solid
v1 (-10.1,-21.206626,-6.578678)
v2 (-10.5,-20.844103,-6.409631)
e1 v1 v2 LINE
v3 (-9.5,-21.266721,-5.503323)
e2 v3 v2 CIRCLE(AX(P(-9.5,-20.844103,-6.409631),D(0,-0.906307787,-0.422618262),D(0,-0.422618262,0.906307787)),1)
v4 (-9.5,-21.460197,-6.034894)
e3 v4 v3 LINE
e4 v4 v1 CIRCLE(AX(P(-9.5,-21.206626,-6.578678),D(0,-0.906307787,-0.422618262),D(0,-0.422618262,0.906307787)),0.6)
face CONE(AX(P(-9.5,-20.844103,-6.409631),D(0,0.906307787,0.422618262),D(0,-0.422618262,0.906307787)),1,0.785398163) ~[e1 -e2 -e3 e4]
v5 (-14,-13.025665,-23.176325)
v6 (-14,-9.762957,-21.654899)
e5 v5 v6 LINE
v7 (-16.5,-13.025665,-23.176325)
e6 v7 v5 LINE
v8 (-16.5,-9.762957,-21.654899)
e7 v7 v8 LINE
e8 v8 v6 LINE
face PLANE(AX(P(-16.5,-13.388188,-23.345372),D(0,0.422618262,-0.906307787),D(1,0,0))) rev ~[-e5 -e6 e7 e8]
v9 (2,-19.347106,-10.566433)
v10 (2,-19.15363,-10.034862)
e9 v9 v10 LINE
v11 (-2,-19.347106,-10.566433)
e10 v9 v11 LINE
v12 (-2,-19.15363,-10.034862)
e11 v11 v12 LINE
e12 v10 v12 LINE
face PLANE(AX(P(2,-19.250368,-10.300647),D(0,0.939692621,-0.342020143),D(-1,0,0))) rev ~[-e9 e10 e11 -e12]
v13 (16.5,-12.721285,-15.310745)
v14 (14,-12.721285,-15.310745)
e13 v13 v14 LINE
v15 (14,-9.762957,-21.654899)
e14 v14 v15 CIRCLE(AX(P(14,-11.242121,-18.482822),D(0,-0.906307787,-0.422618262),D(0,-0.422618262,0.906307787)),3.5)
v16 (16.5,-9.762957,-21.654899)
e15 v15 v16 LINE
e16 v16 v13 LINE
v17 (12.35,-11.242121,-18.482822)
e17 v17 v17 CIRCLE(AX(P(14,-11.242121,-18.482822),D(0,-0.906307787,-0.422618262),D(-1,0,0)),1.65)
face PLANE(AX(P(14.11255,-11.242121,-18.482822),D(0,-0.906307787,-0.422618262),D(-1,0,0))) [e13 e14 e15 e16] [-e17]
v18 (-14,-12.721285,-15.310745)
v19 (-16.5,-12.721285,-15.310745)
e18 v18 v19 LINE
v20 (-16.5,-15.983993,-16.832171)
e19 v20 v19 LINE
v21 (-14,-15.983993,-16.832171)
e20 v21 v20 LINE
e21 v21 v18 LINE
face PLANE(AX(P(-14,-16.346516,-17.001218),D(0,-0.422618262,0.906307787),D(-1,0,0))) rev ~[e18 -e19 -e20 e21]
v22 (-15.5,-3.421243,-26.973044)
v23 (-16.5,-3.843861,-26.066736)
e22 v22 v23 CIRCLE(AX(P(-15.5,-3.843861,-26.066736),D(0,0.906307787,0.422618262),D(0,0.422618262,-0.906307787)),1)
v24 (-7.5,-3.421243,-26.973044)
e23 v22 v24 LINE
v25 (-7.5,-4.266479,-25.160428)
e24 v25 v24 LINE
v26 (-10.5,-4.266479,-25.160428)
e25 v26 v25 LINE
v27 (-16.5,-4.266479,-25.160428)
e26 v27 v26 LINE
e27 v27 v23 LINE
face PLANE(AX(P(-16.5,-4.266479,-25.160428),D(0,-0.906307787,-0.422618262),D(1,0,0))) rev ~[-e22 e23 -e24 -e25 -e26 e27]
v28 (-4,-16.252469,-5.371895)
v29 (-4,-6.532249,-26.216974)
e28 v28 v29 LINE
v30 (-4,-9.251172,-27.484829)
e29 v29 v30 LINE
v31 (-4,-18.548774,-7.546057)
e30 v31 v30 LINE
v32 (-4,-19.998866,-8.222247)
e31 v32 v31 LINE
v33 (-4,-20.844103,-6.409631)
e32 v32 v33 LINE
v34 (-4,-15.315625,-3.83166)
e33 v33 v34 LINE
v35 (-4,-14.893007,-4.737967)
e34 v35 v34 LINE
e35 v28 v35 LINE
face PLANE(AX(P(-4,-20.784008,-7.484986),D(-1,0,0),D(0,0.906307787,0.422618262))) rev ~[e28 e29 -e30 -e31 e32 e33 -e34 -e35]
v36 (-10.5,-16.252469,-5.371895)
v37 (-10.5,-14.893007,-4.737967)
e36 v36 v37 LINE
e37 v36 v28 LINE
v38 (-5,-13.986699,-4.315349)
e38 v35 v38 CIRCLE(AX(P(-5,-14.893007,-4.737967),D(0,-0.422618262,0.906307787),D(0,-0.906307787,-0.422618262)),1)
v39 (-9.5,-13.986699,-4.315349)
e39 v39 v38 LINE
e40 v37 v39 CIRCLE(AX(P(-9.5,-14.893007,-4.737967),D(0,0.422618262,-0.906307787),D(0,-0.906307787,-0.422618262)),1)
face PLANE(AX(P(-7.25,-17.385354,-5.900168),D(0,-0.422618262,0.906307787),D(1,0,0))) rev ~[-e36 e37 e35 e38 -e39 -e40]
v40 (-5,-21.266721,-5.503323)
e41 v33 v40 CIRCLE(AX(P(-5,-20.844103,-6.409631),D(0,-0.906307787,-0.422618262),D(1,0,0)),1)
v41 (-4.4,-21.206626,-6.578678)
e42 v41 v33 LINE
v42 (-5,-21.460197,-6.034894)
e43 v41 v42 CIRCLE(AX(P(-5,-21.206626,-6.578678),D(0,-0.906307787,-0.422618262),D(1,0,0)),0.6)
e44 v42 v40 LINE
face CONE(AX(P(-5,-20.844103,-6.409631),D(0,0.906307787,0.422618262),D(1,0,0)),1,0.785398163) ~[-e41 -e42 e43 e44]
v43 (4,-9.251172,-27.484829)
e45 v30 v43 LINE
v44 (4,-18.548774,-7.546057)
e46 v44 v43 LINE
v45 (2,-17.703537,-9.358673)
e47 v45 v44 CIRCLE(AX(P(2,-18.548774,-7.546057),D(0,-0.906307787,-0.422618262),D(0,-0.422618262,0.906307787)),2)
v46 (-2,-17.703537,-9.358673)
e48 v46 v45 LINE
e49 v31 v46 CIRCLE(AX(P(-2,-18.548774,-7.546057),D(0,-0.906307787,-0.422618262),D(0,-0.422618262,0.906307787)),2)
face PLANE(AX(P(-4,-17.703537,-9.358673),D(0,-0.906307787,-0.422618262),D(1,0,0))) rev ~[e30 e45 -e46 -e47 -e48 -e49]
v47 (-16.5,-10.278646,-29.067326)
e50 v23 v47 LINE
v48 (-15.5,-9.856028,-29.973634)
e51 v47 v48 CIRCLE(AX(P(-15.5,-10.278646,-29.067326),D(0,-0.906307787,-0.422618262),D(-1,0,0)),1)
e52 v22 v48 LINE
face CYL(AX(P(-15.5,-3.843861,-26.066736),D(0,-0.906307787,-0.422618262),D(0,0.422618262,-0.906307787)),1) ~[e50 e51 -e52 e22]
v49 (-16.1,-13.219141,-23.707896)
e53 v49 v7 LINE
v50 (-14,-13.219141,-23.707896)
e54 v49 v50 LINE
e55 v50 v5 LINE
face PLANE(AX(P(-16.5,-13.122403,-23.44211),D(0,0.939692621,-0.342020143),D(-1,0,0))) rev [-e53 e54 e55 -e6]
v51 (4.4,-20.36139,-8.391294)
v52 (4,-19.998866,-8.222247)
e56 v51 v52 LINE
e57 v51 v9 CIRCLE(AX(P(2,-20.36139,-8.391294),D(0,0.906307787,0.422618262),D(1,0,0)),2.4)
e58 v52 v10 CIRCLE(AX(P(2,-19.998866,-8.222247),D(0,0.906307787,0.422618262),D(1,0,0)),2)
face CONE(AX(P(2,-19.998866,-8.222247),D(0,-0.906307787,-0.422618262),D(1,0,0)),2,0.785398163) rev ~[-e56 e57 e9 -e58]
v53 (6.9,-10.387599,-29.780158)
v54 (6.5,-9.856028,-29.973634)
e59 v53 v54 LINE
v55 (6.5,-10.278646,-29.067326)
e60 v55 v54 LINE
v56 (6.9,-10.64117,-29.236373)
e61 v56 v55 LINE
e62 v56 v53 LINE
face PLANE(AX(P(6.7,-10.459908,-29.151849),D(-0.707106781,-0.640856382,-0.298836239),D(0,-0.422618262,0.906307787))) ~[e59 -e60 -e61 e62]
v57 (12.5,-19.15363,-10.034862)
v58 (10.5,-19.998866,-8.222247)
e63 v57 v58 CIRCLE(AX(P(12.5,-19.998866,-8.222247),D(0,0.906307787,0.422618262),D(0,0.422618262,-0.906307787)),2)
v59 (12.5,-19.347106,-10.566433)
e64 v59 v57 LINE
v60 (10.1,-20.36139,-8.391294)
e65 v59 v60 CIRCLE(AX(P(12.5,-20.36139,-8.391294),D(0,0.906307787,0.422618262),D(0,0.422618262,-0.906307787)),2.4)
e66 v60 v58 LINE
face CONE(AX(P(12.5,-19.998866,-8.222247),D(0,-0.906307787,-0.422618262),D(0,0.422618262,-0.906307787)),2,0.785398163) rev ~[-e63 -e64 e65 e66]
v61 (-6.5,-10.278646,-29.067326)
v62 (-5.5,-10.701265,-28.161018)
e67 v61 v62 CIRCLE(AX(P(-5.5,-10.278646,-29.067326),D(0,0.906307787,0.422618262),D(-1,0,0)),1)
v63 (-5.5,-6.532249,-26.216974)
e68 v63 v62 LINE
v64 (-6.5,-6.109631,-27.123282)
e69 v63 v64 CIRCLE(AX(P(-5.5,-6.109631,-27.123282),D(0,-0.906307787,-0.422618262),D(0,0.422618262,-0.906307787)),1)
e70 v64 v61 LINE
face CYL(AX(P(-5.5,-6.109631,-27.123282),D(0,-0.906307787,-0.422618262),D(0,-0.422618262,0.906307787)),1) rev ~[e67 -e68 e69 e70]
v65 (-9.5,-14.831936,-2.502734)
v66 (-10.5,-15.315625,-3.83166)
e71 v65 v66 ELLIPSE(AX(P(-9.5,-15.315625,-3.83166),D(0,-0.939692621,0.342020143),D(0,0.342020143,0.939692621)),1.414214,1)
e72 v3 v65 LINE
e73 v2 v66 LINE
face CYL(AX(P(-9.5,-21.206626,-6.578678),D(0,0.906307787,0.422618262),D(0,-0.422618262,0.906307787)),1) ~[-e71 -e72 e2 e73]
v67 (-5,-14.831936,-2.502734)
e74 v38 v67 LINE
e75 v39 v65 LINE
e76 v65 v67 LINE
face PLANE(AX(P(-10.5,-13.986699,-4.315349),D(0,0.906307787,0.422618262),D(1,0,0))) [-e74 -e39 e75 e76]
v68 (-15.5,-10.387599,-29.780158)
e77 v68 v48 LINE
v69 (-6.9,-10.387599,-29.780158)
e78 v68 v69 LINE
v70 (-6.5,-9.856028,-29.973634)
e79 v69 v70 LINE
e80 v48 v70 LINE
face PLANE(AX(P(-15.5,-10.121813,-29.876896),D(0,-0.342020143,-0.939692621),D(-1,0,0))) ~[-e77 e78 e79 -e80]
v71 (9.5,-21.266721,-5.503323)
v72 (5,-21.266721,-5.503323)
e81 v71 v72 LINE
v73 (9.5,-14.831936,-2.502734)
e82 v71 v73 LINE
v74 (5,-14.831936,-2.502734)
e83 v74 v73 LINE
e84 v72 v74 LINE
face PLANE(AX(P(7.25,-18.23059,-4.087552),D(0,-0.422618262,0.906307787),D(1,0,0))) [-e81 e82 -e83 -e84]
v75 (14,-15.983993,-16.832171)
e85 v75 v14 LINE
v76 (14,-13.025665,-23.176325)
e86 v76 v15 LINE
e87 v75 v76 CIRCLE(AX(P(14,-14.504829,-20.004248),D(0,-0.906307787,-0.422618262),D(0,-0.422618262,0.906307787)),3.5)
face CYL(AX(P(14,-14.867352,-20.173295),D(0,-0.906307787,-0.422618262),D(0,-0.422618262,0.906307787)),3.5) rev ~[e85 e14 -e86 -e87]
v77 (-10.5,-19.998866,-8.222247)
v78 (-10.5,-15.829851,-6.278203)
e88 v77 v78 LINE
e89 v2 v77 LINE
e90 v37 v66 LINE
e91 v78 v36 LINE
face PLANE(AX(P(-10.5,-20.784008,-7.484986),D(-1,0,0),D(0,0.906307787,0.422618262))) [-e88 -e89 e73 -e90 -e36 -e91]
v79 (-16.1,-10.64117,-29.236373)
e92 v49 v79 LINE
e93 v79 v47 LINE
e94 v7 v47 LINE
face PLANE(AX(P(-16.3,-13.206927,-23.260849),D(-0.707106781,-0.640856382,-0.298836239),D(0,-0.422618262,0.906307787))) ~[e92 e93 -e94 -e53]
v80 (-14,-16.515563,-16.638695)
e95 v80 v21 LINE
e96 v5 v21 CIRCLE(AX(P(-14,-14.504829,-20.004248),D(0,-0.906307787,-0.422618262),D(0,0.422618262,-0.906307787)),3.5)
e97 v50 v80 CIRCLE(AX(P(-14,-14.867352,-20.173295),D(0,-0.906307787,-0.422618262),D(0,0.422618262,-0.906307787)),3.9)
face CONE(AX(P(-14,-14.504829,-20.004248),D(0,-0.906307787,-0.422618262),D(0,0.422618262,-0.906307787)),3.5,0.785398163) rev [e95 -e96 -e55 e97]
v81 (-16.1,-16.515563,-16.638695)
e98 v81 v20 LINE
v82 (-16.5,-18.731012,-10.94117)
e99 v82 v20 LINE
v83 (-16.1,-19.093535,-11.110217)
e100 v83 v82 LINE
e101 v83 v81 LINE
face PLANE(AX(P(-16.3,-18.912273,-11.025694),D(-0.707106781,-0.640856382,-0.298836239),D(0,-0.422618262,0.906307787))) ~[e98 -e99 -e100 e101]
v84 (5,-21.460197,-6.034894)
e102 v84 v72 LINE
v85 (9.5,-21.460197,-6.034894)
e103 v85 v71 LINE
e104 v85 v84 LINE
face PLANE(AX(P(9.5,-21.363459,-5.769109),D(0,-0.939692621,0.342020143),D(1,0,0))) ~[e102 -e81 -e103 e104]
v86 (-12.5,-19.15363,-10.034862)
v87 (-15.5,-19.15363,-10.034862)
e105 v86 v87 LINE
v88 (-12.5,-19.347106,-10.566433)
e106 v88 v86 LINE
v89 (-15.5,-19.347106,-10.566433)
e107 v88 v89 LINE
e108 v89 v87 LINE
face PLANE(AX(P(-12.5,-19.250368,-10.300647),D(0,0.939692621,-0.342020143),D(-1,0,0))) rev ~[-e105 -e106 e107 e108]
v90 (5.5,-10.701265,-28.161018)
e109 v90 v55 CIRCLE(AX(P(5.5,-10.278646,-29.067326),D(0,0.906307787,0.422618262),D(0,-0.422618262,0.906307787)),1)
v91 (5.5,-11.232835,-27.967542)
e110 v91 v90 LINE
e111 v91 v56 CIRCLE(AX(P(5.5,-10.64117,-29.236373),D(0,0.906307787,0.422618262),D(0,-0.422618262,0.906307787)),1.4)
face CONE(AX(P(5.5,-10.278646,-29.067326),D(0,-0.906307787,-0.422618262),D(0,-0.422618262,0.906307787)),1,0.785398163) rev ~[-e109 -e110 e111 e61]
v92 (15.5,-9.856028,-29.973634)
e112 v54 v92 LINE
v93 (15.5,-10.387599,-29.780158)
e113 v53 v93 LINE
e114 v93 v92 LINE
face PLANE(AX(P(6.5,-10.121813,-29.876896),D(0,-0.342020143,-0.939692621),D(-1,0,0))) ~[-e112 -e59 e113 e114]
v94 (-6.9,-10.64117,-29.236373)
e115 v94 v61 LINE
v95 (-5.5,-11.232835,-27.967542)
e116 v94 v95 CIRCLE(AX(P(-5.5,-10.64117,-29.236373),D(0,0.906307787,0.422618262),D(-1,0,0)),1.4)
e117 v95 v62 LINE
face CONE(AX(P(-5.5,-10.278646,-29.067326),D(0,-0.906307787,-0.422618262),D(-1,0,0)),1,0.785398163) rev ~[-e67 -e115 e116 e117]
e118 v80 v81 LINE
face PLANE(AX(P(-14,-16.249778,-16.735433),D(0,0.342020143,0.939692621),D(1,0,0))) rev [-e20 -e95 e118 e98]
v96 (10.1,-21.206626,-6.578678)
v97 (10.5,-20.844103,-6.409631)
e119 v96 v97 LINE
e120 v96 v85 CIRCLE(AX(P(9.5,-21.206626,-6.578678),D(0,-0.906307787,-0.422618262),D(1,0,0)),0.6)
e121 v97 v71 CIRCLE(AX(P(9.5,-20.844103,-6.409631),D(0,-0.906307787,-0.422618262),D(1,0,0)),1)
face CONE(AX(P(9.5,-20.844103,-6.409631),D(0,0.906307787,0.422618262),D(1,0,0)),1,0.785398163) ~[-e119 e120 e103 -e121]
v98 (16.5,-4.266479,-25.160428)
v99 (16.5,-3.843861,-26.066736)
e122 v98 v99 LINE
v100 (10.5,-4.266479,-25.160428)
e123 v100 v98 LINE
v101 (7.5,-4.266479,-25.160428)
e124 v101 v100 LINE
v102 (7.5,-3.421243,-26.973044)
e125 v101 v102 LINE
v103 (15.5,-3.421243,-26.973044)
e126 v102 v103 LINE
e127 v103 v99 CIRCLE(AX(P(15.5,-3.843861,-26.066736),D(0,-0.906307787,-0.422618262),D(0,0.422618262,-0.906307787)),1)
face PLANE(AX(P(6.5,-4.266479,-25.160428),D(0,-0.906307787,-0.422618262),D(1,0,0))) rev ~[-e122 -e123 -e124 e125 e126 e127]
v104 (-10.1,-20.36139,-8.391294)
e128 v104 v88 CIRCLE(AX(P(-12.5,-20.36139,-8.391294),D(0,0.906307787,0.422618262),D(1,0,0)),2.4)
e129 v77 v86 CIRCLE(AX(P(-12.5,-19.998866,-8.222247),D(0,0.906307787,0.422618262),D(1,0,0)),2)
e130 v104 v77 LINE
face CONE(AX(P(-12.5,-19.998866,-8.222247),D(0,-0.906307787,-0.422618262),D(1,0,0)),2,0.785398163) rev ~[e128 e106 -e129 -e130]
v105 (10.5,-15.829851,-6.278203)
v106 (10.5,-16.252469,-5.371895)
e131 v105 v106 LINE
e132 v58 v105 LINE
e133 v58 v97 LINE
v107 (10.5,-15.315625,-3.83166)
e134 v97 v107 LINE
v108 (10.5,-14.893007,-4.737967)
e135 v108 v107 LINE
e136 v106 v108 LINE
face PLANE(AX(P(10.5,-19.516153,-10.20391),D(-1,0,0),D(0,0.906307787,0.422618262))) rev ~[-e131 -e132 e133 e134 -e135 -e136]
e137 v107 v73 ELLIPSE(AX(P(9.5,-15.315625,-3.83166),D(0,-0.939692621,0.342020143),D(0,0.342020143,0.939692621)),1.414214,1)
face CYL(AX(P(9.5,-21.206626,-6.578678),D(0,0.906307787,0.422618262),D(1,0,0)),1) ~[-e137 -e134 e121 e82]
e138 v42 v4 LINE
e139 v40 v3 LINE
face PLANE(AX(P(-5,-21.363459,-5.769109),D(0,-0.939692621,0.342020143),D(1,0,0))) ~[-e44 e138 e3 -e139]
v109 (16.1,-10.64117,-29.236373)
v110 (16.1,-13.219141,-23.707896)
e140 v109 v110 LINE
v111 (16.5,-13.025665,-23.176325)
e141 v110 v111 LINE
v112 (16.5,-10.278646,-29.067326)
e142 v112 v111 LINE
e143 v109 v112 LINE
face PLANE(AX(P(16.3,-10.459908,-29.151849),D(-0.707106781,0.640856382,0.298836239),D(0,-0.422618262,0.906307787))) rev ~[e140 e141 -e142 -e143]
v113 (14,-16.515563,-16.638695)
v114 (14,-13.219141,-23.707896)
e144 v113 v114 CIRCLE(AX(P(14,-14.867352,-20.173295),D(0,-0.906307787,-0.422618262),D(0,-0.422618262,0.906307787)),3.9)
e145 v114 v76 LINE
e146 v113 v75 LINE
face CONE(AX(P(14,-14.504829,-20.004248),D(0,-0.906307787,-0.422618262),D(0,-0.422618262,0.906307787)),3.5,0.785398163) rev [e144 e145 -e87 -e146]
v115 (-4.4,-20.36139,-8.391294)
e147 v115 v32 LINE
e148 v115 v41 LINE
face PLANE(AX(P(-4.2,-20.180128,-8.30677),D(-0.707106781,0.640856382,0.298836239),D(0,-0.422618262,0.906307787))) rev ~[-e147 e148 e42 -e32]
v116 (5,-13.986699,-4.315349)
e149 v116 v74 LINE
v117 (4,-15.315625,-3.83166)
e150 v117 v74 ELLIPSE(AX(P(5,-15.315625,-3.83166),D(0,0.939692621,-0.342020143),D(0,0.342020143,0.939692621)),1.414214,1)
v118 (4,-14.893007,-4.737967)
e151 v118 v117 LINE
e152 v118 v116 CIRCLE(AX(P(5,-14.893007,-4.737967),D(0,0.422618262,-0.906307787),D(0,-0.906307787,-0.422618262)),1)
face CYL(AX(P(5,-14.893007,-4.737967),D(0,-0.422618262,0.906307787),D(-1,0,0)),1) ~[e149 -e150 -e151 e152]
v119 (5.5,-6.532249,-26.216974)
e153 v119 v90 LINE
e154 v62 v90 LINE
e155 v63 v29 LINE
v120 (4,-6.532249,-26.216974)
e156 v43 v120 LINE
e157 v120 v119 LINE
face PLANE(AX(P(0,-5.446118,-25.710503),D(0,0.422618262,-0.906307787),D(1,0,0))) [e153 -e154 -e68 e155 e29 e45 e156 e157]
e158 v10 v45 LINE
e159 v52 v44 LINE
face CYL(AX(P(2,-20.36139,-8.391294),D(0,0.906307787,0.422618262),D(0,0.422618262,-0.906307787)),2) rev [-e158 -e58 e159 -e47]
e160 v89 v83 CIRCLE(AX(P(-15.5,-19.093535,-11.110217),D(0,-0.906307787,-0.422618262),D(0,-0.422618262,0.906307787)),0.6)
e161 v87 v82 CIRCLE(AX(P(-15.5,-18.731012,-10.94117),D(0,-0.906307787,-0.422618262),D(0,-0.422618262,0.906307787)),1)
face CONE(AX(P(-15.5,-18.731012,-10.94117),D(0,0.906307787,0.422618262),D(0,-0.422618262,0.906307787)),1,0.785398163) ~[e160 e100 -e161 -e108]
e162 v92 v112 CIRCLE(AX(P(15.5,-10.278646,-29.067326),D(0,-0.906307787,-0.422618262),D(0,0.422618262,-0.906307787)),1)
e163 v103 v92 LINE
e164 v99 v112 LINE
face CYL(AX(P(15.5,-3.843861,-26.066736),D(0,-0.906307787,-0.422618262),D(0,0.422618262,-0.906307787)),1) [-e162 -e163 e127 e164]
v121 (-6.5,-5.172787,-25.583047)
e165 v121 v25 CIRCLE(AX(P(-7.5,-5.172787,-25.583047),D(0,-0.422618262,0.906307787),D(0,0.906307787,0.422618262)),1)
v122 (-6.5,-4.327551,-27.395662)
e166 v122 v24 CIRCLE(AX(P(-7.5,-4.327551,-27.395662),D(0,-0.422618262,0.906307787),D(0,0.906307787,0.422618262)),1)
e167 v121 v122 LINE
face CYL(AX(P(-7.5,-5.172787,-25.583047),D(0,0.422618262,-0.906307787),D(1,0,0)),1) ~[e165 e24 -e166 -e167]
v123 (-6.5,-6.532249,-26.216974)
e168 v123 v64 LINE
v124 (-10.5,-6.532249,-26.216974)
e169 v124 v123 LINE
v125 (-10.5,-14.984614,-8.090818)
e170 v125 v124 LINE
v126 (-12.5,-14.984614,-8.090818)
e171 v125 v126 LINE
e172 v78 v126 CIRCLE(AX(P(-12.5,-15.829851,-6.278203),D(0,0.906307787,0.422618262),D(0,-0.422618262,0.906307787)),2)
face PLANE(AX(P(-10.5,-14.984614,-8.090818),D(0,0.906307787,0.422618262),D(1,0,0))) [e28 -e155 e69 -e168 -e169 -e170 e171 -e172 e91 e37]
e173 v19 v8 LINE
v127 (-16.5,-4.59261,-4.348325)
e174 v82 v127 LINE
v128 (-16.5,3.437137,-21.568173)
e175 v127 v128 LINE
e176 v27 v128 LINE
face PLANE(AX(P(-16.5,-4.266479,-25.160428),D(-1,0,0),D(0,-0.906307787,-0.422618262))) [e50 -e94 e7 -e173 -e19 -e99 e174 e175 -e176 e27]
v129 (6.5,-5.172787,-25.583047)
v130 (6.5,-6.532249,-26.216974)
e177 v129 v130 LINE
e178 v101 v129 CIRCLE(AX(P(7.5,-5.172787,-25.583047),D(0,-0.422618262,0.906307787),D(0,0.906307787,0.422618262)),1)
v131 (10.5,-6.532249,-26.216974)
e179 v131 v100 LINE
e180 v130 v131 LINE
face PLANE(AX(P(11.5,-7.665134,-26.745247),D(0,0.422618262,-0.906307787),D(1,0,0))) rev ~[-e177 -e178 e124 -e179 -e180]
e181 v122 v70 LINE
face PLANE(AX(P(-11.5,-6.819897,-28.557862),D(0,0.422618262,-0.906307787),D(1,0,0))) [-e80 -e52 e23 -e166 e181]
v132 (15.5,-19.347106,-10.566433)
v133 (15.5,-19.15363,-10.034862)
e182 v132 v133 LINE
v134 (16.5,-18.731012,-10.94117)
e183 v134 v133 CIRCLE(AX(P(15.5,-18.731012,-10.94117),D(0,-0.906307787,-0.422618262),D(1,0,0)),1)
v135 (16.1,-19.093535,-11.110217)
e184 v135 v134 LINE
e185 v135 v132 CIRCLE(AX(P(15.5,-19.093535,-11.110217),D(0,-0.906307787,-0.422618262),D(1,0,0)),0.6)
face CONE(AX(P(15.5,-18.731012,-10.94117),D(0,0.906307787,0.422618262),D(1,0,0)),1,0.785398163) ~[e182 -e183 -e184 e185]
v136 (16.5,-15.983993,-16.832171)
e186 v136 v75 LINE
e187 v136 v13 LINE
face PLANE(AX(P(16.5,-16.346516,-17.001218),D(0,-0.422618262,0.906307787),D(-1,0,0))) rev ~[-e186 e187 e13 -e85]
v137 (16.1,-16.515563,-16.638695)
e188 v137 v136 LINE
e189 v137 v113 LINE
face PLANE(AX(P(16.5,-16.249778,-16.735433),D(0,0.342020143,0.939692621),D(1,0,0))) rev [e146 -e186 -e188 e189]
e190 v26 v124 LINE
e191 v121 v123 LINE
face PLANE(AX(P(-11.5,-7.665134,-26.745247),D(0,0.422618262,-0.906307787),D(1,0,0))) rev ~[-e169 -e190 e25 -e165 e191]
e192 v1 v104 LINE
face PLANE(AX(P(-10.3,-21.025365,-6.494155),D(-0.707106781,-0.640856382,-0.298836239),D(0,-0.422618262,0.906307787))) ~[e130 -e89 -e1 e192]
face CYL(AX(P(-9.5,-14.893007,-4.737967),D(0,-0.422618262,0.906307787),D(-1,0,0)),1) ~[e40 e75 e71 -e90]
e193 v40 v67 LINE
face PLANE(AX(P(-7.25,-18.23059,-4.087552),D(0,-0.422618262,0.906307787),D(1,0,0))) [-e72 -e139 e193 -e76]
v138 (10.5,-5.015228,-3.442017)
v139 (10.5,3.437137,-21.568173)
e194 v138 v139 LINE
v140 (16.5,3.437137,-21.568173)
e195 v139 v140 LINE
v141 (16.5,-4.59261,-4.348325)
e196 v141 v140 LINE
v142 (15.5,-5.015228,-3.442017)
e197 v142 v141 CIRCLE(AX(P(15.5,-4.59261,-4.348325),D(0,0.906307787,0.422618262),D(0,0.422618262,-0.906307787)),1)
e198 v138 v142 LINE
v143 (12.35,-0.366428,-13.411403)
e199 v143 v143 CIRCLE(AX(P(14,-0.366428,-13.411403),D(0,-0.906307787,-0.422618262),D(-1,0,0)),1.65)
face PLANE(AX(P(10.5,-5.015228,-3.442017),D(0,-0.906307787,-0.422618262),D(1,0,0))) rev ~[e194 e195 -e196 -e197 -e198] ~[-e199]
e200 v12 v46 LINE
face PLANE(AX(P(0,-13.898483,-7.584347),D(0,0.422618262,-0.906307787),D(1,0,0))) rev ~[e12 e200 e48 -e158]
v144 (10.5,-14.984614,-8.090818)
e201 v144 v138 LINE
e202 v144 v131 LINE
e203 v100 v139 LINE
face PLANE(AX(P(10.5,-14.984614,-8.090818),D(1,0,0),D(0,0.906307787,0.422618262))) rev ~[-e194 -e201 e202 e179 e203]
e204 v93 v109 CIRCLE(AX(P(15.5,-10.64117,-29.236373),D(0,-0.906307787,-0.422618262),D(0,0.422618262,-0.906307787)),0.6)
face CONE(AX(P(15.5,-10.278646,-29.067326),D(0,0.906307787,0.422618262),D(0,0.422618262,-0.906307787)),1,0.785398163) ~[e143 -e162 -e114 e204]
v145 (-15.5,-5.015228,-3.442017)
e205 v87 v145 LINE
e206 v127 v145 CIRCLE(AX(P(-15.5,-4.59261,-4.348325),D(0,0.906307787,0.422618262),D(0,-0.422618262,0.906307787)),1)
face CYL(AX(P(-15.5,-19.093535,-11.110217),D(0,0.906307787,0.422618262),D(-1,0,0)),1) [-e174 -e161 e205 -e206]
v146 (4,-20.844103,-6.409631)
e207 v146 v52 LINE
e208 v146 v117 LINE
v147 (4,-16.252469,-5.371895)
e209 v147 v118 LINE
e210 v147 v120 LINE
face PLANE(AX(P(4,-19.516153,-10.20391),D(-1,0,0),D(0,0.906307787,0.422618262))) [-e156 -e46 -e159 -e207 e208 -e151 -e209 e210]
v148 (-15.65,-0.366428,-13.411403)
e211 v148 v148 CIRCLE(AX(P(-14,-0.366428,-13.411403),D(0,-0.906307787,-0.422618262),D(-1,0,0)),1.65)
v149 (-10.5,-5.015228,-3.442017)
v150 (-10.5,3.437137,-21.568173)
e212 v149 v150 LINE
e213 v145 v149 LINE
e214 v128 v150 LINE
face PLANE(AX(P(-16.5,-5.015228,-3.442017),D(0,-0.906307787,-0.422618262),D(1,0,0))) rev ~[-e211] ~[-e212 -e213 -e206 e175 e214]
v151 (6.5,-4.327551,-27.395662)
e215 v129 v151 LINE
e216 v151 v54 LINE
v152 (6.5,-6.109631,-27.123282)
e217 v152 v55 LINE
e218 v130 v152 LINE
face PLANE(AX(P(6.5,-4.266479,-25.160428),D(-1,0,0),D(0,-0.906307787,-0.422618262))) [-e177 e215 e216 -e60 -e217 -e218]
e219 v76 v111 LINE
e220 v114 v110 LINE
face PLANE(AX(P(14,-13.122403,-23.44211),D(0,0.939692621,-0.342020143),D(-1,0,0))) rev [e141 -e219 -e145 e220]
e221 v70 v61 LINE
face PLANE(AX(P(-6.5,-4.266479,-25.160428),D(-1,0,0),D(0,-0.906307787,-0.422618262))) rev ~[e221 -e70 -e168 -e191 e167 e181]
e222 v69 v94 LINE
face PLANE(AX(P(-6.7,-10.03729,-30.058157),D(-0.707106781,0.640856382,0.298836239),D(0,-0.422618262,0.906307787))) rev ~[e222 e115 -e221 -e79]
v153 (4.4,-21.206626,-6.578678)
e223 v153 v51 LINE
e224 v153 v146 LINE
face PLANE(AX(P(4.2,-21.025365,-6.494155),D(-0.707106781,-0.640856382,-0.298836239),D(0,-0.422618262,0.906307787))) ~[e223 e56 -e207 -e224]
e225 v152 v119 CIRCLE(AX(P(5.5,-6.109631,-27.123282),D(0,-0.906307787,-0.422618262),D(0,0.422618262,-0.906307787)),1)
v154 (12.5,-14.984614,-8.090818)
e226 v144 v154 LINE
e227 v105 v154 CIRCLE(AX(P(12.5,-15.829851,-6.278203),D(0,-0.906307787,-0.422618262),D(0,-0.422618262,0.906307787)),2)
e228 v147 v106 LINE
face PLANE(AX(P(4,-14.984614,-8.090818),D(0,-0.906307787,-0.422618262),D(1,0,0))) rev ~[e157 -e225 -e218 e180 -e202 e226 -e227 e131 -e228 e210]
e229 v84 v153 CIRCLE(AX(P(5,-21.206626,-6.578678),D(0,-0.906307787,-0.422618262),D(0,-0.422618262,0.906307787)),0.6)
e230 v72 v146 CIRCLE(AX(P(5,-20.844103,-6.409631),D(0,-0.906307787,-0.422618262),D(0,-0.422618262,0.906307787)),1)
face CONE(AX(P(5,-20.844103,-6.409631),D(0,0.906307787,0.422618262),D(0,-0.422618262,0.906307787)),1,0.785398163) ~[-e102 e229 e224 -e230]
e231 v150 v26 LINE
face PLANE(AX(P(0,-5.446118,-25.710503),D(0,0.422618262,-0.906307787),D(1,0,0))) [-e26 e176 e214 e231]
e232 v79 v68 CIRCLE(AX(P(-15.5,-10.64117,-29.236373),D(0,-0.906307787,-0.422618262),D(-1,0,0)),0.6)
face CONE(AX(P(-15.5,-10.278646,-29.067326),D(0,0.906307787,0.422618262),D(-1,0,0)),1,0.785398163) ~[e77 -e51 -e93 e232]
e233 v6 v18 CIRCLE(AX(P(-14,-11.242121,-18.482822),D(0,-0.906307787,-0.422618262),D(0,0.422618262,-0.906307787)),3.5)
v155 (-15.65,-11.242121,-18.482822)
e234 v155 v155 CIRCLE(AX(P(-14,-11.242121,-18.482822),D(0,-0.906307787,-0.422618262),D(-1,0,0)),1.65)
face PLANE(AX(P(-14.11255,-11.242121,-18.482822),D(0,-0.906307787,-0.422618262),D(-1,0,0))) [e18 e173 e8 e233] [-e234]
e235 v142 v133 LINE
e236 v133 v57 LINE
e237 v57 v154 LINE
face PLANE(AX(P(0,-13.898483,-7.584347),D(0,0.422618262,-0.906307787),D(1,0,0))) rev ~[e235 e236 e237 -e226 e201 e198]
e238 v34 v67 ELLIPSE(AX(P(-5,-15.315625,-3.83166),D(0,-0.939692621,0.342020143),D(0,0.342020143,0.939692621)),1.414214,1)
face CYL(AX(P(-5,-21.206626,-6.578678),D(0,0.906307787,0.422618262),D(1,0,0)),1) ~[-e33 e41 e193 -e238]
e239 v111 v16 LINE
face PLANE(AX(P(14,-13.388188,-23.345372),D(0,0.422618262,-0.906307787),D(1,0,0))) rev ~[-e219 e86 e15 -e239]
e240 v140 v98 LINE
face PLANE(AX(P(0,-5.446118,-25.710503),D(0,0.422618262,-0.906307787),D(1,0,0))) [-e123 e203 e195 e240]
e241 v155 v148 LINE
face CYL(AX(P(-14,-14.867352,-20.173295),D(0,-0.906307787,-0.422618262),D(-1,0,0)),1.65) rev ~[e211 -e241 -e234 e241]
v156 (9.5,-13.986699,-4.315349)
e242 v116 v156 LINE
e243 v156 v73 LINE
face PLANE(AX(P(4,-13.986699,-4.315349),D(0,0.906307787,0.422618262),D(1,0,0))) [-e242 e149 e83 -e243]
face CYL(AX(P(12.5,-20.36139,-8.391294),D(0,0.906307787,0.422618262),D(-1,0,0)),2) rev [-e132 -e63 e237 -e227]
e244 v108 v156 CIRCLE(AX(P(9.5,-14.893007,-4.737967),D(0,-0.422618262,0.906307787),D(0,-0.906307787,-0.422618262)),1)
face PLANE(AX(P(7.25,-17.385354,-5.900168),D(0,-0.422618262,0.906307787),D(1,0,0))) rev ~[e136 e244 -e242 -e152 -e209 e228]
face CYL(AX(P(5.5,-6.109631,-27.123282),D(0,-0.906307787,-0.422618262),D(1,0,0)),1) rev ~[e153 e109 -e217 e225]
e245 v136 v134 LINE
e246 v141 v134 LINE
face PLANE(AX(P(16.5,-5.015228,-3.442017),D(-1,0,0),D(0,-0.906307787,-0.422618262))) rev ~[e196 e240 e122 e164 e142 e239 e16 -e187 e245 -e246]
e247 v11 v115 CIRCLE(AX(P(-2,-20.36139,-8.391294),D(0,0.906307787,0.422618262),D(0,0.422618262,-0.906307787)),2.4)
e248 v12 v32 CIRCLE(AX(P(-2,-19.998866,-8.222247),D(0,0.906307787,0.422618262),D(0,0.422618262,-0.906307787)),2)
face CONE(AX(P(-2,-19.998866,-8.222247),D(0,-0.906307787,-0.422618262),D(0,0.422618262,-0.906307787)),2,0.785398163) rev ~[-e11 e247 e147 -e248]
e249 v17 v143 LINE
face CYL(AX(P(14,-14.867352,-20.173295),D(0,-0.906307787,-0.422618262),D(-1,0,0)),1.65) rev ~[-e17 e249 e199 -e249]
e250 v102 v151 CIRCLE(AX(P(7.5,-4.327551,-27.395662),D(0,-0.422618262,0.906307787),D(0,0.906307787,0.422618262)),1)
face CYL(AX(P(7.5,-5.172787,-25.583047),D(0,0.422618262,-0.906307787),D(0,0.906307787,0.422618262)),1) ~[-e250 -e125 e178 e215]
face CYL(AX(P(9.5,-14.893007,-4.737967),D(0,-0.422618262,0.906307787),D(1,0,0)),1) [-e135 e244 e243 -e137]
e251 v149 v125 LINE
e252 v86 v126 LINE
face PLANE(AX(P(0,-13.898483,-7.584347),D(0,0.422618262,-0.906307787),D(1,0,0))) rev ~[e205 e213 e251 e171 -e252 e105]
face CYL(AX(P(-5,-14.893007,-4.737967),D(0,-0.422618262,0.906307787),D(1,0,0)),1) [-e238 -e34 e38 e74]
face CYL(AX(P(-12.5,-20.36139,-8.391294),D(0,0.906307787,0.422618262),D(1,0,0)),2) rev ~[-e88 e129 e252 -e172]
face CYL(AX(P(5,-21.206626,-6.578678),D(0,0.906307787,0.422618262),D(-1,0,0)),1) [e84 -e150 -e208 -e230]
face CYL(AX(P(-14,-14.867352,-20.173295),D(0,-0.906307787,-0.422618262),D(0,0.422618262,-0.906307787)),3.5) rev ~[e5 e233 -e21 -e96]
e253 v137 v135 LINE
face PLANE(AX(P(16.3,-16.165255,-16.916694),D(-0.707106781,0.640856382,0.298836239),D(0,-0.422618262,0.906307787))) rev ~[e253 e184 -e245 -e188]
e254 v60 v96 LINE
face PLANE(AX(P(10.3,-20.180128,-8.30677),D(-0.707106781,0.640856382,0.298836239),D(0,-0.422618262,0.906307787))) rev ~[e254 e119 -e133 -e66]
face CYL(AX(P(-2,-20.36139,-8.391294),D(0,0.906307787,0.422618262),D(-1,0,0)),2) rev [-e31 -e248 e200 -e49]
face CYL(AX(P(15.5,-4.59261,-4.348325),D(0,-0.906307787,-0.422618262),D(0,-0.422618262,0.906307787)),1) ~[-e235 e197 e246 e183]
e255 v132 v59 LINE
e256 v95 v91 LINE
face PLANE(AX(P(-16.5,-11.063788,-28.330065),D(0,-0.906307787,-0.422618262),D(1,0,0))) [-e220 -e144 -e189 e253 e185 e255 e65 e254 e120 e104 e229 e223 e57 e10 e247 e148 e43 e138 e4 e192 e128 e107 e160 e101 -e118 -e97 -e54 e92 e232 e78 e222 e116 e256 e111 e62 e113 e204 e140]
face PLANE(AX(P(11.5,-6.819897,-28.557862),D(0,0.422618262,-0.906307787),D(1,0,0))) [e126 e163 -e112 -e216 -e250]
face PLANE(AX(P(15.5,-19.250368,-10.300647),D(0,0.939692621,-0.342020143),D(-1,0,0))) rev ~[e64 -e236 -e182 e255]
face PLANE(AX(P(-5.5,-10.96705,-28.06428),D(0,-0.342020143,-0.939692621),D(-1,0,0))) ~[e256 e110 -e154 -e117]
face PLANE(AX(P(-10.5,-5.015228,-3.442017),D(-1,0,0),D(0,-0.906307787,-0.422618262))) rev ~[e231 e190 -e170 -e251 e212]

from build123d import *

# Parameters (mm, degrees)
PAD011_DEPTH                     = 20
SKETCH035_W                      = 6.5
SKETCH035_H                      = 5
PAD012_DEPTH                     = 3
SKETCH036_W                      = 6.5
SKETCH036_H                      = 7.5
PAD013_DEPTH                     = 2
SKETCH037_W                      = 10
SKETCH037_H                      = 7.5
PAD014_DEPTH                     = 2
FILLET005009_R                   = 2
FILLET005010_R                   = 1
FILLET005011_R                   = 1
SKETCH038_R                      = 1.65
POCKET018_DEPTH                  = 16.001
POCKET019_DEPTH                  = 4
CHAMFER007006_SIZE               = 0.4
BODY004004003003_PLACEMENT_ANGLE = 205


with BuildPart() as part:
    # Sketch034 → Pad011 (new body)
    with BuildSketch(Plane.XY):
        Polygon((-16.5, 0), (-10.5, 0), (-10.5, 11), (-4, 11), (-4, 14), (4, 14), (4, 11), (10.5, 11), (10.5, 0), (16.5, 0), (16.5, 16), (-16.5, 16), align=None)
    extrude(amount=PAD011_DEPTH)

    # Sketch035 (on Face13 of Pad011) → Pad012 (join)
    with BuildSketch(Plane(origin=(0, 0, 0), x_dir=(1, 0, 0), z_dir=(0, 0, -1))):
        with Locations((-7.25, -13.5)):
            Rectangle(SKETCH035_W, SKETCH035_H)
        with Locations((7.25, -13.5)):
            Rectangle(SKETCH035_W, SKETCH035_H)
    extrude(amount=PAD012_DEPTH)

    # Sketch036 (on Face26 of Pad012) → Pad013 (join)
    with BuildSketch(Plane(origin=(0, 0, -3), x_dir=(1, 0, 0), z_dir=(0, 0, -1))):
        with Locations((-7.25, -12.25)):
            Rectangle(SKETCH036_W, SKETCH036_H)
        with Locations((7.25, -12.25)):
            Rectangle(SKETCH036_W, SKETCH036_H)
    extrude(amount=PAD013_DEPTH)

    # Sketch037 (on Face5 of Pad013) → Pad014 (join)
    with BuildSketch(Plane.XY.offset(20)):
        with Locations((-11.5, 12.25)):
            Rectangle(SKETCH037_W, SKETCH037_H)
        with Locations((11.5, 12.25)):
            Rectangle(SKETCH037_W, SKETCH037_H)
    extrude(amount=PAD014_DEPTH)

    # Fillet005009
    fillet005009_edges = [part.edges().sort_by_distance(p)[0] for p in [
        (-10.5, 13.5, 0),
        (-4, 15, 0),
        (4, 15, 0),
        (10.5, 13.5, 0),
    ]]
    fillet(fillet005009_edges, radius=FILLET005009_R)

    # Fillet005010
    fillet005010_edges = [part.edges().sort_by_distance(p)[0] for p in [
        (-6.5, 13.5, 20),
        (6.5, 13.5, 20),
        (16.5, 12.25, 22),
        (-16.5, 12.25, 22),
        (6.5, 8.5, 21),
        (-6.5, 8.5, 21),
    ]]
    fillet(fillet005010_edges, radius=FILLET005010_R)

    # Fillet005011
    fillet005011_edges = [part.edges().sort_by_distance(p)[0] for p in [
        (-10.5, 12.25, -5),
        (-4, 12.25, -5),
        (4, 12.25, -5),
        (10.5, 12.25, -5),
        (-10.5, 8.5, -4),
        (-4, 8.5, -4),
        (4, 8.5, -4),
        (10.5, 8.5, -4),
        (-16.5, 8, 0),
        (16.5, 8, 0),
    ]]
    fillet(fillet005011_edges, radius=FILLET005011_R)

    # Sketch038 (on Face1 of Fillet005011) → Pocket018 (cut, through all)
    with BuildSketch(Plane(origin=(0, 16, 0), x_dir=(-1, 0, 0), z_dir=(0, 1, 0))):
        with Locations((-14, 11)):
            Circle(SKETCH038_R)
        with Locations((14, 11)):
            Circle(SKETCH038_R)
    extrude(amount=-POCKET018_DEPTH, mode=Mode.SUBTRACT)

    # Sketch039 (on Face1 of Pocket018) → Pocket019 (cut)
    with BuildSketch(Plane(origin=(0, 16, 0), x_dir=(-1, 0, 0), z_dir=(0, 1, 0))):
        with BuildLine():
            ThreePointArc((-14, 7.5), (-10.5, 11), (-14, 14.5))
            Line((-14, 14.5), (-16.5, 14.5))
            Line((-16.5, 14.5), (-16.5, 7.5))
            Line((-16.5, 7.5), (-14, 7.5))
        make_face()
        with BuildLine():
            ThreePointArc((14, 14.5), (10.5, 11), (14, 7.5))
            Line((14, 7.5), (16.5, 7.5))
            Line((16.5, 7.5), (16.5, 14.5))
            Line((16.5, 14.5), (14, 14.5))
        make_face()
    extrude(amount=-POCKET019_DEPTH, mode=Mode.SUBTRACT)

    # Chamfer007006
    chamfer007006_edges = [part.edges().sort_by_distance(p)[0] for p in [
        (16.5, 16, 4.25),
        (15.25, 16, 7.5),
        (10.5, 16, 11),
        (15.25, 16, 14.5),
        (16.5, 16, 17.75),
        (16.207107, 16, 21.707107),
        (11, 16, 22),
        (6.5, 16, 21.5),
        (6.207107, 16, 20.292893),
        (0, 16, 20),
        (-6.207107, 16, 20.292893),
        (-6.5, 16, 21.5),
        (-11, 16, 22),
        (-16.207107, 16, 21.707107),
        (-16.5, 16, 17.75),
        (-15.25, 16, 14.5),
        (-10.5, 16, 11),
        (-15.25, 16, 7.5),
        (-16.5, 16, 4.25),
        (-16.207107, 16, 0.292893),
        (-14, 16, 0),
        (-11.085786, 16, -0.585786),
        (-10.5, 16, -3),
        (-10.207107, 16, -4.707107),
        (-7.25, 16, -5),
        (-4.292893, 16, -4.707107),
        (-4, 16, -3),
        (-3.414214, 16, -0.585786),
        (0, 16, 0),
        (3.414214, 16, -0.585786),
        (4, 16, -3),
        (4.292893, 16, -4.707107),
        (7.25, 16, -5),
        (10.207107, 16, -4.707107),
        (10.5, 16, -3),
        (11.085786, 16, -0.585786),
        (14, 16, 0),
        (16.207107, 16, 0.292893),
    ]]
    chamfer(chamfer007006_edges, length=CHAMFER007006_SIZE)


with BuildPart() as part_1:
    # Body004004003003 placement: moved
    add(part.part.moved(Location((0, -5.0152284605, -3.4420173575))).rotate(Axis((0, -5.0152284605, -3.4420173575), (1, 0, 0)), BODY004004003003_PLACEMENT_ANGLE))


solid = part_1.part
